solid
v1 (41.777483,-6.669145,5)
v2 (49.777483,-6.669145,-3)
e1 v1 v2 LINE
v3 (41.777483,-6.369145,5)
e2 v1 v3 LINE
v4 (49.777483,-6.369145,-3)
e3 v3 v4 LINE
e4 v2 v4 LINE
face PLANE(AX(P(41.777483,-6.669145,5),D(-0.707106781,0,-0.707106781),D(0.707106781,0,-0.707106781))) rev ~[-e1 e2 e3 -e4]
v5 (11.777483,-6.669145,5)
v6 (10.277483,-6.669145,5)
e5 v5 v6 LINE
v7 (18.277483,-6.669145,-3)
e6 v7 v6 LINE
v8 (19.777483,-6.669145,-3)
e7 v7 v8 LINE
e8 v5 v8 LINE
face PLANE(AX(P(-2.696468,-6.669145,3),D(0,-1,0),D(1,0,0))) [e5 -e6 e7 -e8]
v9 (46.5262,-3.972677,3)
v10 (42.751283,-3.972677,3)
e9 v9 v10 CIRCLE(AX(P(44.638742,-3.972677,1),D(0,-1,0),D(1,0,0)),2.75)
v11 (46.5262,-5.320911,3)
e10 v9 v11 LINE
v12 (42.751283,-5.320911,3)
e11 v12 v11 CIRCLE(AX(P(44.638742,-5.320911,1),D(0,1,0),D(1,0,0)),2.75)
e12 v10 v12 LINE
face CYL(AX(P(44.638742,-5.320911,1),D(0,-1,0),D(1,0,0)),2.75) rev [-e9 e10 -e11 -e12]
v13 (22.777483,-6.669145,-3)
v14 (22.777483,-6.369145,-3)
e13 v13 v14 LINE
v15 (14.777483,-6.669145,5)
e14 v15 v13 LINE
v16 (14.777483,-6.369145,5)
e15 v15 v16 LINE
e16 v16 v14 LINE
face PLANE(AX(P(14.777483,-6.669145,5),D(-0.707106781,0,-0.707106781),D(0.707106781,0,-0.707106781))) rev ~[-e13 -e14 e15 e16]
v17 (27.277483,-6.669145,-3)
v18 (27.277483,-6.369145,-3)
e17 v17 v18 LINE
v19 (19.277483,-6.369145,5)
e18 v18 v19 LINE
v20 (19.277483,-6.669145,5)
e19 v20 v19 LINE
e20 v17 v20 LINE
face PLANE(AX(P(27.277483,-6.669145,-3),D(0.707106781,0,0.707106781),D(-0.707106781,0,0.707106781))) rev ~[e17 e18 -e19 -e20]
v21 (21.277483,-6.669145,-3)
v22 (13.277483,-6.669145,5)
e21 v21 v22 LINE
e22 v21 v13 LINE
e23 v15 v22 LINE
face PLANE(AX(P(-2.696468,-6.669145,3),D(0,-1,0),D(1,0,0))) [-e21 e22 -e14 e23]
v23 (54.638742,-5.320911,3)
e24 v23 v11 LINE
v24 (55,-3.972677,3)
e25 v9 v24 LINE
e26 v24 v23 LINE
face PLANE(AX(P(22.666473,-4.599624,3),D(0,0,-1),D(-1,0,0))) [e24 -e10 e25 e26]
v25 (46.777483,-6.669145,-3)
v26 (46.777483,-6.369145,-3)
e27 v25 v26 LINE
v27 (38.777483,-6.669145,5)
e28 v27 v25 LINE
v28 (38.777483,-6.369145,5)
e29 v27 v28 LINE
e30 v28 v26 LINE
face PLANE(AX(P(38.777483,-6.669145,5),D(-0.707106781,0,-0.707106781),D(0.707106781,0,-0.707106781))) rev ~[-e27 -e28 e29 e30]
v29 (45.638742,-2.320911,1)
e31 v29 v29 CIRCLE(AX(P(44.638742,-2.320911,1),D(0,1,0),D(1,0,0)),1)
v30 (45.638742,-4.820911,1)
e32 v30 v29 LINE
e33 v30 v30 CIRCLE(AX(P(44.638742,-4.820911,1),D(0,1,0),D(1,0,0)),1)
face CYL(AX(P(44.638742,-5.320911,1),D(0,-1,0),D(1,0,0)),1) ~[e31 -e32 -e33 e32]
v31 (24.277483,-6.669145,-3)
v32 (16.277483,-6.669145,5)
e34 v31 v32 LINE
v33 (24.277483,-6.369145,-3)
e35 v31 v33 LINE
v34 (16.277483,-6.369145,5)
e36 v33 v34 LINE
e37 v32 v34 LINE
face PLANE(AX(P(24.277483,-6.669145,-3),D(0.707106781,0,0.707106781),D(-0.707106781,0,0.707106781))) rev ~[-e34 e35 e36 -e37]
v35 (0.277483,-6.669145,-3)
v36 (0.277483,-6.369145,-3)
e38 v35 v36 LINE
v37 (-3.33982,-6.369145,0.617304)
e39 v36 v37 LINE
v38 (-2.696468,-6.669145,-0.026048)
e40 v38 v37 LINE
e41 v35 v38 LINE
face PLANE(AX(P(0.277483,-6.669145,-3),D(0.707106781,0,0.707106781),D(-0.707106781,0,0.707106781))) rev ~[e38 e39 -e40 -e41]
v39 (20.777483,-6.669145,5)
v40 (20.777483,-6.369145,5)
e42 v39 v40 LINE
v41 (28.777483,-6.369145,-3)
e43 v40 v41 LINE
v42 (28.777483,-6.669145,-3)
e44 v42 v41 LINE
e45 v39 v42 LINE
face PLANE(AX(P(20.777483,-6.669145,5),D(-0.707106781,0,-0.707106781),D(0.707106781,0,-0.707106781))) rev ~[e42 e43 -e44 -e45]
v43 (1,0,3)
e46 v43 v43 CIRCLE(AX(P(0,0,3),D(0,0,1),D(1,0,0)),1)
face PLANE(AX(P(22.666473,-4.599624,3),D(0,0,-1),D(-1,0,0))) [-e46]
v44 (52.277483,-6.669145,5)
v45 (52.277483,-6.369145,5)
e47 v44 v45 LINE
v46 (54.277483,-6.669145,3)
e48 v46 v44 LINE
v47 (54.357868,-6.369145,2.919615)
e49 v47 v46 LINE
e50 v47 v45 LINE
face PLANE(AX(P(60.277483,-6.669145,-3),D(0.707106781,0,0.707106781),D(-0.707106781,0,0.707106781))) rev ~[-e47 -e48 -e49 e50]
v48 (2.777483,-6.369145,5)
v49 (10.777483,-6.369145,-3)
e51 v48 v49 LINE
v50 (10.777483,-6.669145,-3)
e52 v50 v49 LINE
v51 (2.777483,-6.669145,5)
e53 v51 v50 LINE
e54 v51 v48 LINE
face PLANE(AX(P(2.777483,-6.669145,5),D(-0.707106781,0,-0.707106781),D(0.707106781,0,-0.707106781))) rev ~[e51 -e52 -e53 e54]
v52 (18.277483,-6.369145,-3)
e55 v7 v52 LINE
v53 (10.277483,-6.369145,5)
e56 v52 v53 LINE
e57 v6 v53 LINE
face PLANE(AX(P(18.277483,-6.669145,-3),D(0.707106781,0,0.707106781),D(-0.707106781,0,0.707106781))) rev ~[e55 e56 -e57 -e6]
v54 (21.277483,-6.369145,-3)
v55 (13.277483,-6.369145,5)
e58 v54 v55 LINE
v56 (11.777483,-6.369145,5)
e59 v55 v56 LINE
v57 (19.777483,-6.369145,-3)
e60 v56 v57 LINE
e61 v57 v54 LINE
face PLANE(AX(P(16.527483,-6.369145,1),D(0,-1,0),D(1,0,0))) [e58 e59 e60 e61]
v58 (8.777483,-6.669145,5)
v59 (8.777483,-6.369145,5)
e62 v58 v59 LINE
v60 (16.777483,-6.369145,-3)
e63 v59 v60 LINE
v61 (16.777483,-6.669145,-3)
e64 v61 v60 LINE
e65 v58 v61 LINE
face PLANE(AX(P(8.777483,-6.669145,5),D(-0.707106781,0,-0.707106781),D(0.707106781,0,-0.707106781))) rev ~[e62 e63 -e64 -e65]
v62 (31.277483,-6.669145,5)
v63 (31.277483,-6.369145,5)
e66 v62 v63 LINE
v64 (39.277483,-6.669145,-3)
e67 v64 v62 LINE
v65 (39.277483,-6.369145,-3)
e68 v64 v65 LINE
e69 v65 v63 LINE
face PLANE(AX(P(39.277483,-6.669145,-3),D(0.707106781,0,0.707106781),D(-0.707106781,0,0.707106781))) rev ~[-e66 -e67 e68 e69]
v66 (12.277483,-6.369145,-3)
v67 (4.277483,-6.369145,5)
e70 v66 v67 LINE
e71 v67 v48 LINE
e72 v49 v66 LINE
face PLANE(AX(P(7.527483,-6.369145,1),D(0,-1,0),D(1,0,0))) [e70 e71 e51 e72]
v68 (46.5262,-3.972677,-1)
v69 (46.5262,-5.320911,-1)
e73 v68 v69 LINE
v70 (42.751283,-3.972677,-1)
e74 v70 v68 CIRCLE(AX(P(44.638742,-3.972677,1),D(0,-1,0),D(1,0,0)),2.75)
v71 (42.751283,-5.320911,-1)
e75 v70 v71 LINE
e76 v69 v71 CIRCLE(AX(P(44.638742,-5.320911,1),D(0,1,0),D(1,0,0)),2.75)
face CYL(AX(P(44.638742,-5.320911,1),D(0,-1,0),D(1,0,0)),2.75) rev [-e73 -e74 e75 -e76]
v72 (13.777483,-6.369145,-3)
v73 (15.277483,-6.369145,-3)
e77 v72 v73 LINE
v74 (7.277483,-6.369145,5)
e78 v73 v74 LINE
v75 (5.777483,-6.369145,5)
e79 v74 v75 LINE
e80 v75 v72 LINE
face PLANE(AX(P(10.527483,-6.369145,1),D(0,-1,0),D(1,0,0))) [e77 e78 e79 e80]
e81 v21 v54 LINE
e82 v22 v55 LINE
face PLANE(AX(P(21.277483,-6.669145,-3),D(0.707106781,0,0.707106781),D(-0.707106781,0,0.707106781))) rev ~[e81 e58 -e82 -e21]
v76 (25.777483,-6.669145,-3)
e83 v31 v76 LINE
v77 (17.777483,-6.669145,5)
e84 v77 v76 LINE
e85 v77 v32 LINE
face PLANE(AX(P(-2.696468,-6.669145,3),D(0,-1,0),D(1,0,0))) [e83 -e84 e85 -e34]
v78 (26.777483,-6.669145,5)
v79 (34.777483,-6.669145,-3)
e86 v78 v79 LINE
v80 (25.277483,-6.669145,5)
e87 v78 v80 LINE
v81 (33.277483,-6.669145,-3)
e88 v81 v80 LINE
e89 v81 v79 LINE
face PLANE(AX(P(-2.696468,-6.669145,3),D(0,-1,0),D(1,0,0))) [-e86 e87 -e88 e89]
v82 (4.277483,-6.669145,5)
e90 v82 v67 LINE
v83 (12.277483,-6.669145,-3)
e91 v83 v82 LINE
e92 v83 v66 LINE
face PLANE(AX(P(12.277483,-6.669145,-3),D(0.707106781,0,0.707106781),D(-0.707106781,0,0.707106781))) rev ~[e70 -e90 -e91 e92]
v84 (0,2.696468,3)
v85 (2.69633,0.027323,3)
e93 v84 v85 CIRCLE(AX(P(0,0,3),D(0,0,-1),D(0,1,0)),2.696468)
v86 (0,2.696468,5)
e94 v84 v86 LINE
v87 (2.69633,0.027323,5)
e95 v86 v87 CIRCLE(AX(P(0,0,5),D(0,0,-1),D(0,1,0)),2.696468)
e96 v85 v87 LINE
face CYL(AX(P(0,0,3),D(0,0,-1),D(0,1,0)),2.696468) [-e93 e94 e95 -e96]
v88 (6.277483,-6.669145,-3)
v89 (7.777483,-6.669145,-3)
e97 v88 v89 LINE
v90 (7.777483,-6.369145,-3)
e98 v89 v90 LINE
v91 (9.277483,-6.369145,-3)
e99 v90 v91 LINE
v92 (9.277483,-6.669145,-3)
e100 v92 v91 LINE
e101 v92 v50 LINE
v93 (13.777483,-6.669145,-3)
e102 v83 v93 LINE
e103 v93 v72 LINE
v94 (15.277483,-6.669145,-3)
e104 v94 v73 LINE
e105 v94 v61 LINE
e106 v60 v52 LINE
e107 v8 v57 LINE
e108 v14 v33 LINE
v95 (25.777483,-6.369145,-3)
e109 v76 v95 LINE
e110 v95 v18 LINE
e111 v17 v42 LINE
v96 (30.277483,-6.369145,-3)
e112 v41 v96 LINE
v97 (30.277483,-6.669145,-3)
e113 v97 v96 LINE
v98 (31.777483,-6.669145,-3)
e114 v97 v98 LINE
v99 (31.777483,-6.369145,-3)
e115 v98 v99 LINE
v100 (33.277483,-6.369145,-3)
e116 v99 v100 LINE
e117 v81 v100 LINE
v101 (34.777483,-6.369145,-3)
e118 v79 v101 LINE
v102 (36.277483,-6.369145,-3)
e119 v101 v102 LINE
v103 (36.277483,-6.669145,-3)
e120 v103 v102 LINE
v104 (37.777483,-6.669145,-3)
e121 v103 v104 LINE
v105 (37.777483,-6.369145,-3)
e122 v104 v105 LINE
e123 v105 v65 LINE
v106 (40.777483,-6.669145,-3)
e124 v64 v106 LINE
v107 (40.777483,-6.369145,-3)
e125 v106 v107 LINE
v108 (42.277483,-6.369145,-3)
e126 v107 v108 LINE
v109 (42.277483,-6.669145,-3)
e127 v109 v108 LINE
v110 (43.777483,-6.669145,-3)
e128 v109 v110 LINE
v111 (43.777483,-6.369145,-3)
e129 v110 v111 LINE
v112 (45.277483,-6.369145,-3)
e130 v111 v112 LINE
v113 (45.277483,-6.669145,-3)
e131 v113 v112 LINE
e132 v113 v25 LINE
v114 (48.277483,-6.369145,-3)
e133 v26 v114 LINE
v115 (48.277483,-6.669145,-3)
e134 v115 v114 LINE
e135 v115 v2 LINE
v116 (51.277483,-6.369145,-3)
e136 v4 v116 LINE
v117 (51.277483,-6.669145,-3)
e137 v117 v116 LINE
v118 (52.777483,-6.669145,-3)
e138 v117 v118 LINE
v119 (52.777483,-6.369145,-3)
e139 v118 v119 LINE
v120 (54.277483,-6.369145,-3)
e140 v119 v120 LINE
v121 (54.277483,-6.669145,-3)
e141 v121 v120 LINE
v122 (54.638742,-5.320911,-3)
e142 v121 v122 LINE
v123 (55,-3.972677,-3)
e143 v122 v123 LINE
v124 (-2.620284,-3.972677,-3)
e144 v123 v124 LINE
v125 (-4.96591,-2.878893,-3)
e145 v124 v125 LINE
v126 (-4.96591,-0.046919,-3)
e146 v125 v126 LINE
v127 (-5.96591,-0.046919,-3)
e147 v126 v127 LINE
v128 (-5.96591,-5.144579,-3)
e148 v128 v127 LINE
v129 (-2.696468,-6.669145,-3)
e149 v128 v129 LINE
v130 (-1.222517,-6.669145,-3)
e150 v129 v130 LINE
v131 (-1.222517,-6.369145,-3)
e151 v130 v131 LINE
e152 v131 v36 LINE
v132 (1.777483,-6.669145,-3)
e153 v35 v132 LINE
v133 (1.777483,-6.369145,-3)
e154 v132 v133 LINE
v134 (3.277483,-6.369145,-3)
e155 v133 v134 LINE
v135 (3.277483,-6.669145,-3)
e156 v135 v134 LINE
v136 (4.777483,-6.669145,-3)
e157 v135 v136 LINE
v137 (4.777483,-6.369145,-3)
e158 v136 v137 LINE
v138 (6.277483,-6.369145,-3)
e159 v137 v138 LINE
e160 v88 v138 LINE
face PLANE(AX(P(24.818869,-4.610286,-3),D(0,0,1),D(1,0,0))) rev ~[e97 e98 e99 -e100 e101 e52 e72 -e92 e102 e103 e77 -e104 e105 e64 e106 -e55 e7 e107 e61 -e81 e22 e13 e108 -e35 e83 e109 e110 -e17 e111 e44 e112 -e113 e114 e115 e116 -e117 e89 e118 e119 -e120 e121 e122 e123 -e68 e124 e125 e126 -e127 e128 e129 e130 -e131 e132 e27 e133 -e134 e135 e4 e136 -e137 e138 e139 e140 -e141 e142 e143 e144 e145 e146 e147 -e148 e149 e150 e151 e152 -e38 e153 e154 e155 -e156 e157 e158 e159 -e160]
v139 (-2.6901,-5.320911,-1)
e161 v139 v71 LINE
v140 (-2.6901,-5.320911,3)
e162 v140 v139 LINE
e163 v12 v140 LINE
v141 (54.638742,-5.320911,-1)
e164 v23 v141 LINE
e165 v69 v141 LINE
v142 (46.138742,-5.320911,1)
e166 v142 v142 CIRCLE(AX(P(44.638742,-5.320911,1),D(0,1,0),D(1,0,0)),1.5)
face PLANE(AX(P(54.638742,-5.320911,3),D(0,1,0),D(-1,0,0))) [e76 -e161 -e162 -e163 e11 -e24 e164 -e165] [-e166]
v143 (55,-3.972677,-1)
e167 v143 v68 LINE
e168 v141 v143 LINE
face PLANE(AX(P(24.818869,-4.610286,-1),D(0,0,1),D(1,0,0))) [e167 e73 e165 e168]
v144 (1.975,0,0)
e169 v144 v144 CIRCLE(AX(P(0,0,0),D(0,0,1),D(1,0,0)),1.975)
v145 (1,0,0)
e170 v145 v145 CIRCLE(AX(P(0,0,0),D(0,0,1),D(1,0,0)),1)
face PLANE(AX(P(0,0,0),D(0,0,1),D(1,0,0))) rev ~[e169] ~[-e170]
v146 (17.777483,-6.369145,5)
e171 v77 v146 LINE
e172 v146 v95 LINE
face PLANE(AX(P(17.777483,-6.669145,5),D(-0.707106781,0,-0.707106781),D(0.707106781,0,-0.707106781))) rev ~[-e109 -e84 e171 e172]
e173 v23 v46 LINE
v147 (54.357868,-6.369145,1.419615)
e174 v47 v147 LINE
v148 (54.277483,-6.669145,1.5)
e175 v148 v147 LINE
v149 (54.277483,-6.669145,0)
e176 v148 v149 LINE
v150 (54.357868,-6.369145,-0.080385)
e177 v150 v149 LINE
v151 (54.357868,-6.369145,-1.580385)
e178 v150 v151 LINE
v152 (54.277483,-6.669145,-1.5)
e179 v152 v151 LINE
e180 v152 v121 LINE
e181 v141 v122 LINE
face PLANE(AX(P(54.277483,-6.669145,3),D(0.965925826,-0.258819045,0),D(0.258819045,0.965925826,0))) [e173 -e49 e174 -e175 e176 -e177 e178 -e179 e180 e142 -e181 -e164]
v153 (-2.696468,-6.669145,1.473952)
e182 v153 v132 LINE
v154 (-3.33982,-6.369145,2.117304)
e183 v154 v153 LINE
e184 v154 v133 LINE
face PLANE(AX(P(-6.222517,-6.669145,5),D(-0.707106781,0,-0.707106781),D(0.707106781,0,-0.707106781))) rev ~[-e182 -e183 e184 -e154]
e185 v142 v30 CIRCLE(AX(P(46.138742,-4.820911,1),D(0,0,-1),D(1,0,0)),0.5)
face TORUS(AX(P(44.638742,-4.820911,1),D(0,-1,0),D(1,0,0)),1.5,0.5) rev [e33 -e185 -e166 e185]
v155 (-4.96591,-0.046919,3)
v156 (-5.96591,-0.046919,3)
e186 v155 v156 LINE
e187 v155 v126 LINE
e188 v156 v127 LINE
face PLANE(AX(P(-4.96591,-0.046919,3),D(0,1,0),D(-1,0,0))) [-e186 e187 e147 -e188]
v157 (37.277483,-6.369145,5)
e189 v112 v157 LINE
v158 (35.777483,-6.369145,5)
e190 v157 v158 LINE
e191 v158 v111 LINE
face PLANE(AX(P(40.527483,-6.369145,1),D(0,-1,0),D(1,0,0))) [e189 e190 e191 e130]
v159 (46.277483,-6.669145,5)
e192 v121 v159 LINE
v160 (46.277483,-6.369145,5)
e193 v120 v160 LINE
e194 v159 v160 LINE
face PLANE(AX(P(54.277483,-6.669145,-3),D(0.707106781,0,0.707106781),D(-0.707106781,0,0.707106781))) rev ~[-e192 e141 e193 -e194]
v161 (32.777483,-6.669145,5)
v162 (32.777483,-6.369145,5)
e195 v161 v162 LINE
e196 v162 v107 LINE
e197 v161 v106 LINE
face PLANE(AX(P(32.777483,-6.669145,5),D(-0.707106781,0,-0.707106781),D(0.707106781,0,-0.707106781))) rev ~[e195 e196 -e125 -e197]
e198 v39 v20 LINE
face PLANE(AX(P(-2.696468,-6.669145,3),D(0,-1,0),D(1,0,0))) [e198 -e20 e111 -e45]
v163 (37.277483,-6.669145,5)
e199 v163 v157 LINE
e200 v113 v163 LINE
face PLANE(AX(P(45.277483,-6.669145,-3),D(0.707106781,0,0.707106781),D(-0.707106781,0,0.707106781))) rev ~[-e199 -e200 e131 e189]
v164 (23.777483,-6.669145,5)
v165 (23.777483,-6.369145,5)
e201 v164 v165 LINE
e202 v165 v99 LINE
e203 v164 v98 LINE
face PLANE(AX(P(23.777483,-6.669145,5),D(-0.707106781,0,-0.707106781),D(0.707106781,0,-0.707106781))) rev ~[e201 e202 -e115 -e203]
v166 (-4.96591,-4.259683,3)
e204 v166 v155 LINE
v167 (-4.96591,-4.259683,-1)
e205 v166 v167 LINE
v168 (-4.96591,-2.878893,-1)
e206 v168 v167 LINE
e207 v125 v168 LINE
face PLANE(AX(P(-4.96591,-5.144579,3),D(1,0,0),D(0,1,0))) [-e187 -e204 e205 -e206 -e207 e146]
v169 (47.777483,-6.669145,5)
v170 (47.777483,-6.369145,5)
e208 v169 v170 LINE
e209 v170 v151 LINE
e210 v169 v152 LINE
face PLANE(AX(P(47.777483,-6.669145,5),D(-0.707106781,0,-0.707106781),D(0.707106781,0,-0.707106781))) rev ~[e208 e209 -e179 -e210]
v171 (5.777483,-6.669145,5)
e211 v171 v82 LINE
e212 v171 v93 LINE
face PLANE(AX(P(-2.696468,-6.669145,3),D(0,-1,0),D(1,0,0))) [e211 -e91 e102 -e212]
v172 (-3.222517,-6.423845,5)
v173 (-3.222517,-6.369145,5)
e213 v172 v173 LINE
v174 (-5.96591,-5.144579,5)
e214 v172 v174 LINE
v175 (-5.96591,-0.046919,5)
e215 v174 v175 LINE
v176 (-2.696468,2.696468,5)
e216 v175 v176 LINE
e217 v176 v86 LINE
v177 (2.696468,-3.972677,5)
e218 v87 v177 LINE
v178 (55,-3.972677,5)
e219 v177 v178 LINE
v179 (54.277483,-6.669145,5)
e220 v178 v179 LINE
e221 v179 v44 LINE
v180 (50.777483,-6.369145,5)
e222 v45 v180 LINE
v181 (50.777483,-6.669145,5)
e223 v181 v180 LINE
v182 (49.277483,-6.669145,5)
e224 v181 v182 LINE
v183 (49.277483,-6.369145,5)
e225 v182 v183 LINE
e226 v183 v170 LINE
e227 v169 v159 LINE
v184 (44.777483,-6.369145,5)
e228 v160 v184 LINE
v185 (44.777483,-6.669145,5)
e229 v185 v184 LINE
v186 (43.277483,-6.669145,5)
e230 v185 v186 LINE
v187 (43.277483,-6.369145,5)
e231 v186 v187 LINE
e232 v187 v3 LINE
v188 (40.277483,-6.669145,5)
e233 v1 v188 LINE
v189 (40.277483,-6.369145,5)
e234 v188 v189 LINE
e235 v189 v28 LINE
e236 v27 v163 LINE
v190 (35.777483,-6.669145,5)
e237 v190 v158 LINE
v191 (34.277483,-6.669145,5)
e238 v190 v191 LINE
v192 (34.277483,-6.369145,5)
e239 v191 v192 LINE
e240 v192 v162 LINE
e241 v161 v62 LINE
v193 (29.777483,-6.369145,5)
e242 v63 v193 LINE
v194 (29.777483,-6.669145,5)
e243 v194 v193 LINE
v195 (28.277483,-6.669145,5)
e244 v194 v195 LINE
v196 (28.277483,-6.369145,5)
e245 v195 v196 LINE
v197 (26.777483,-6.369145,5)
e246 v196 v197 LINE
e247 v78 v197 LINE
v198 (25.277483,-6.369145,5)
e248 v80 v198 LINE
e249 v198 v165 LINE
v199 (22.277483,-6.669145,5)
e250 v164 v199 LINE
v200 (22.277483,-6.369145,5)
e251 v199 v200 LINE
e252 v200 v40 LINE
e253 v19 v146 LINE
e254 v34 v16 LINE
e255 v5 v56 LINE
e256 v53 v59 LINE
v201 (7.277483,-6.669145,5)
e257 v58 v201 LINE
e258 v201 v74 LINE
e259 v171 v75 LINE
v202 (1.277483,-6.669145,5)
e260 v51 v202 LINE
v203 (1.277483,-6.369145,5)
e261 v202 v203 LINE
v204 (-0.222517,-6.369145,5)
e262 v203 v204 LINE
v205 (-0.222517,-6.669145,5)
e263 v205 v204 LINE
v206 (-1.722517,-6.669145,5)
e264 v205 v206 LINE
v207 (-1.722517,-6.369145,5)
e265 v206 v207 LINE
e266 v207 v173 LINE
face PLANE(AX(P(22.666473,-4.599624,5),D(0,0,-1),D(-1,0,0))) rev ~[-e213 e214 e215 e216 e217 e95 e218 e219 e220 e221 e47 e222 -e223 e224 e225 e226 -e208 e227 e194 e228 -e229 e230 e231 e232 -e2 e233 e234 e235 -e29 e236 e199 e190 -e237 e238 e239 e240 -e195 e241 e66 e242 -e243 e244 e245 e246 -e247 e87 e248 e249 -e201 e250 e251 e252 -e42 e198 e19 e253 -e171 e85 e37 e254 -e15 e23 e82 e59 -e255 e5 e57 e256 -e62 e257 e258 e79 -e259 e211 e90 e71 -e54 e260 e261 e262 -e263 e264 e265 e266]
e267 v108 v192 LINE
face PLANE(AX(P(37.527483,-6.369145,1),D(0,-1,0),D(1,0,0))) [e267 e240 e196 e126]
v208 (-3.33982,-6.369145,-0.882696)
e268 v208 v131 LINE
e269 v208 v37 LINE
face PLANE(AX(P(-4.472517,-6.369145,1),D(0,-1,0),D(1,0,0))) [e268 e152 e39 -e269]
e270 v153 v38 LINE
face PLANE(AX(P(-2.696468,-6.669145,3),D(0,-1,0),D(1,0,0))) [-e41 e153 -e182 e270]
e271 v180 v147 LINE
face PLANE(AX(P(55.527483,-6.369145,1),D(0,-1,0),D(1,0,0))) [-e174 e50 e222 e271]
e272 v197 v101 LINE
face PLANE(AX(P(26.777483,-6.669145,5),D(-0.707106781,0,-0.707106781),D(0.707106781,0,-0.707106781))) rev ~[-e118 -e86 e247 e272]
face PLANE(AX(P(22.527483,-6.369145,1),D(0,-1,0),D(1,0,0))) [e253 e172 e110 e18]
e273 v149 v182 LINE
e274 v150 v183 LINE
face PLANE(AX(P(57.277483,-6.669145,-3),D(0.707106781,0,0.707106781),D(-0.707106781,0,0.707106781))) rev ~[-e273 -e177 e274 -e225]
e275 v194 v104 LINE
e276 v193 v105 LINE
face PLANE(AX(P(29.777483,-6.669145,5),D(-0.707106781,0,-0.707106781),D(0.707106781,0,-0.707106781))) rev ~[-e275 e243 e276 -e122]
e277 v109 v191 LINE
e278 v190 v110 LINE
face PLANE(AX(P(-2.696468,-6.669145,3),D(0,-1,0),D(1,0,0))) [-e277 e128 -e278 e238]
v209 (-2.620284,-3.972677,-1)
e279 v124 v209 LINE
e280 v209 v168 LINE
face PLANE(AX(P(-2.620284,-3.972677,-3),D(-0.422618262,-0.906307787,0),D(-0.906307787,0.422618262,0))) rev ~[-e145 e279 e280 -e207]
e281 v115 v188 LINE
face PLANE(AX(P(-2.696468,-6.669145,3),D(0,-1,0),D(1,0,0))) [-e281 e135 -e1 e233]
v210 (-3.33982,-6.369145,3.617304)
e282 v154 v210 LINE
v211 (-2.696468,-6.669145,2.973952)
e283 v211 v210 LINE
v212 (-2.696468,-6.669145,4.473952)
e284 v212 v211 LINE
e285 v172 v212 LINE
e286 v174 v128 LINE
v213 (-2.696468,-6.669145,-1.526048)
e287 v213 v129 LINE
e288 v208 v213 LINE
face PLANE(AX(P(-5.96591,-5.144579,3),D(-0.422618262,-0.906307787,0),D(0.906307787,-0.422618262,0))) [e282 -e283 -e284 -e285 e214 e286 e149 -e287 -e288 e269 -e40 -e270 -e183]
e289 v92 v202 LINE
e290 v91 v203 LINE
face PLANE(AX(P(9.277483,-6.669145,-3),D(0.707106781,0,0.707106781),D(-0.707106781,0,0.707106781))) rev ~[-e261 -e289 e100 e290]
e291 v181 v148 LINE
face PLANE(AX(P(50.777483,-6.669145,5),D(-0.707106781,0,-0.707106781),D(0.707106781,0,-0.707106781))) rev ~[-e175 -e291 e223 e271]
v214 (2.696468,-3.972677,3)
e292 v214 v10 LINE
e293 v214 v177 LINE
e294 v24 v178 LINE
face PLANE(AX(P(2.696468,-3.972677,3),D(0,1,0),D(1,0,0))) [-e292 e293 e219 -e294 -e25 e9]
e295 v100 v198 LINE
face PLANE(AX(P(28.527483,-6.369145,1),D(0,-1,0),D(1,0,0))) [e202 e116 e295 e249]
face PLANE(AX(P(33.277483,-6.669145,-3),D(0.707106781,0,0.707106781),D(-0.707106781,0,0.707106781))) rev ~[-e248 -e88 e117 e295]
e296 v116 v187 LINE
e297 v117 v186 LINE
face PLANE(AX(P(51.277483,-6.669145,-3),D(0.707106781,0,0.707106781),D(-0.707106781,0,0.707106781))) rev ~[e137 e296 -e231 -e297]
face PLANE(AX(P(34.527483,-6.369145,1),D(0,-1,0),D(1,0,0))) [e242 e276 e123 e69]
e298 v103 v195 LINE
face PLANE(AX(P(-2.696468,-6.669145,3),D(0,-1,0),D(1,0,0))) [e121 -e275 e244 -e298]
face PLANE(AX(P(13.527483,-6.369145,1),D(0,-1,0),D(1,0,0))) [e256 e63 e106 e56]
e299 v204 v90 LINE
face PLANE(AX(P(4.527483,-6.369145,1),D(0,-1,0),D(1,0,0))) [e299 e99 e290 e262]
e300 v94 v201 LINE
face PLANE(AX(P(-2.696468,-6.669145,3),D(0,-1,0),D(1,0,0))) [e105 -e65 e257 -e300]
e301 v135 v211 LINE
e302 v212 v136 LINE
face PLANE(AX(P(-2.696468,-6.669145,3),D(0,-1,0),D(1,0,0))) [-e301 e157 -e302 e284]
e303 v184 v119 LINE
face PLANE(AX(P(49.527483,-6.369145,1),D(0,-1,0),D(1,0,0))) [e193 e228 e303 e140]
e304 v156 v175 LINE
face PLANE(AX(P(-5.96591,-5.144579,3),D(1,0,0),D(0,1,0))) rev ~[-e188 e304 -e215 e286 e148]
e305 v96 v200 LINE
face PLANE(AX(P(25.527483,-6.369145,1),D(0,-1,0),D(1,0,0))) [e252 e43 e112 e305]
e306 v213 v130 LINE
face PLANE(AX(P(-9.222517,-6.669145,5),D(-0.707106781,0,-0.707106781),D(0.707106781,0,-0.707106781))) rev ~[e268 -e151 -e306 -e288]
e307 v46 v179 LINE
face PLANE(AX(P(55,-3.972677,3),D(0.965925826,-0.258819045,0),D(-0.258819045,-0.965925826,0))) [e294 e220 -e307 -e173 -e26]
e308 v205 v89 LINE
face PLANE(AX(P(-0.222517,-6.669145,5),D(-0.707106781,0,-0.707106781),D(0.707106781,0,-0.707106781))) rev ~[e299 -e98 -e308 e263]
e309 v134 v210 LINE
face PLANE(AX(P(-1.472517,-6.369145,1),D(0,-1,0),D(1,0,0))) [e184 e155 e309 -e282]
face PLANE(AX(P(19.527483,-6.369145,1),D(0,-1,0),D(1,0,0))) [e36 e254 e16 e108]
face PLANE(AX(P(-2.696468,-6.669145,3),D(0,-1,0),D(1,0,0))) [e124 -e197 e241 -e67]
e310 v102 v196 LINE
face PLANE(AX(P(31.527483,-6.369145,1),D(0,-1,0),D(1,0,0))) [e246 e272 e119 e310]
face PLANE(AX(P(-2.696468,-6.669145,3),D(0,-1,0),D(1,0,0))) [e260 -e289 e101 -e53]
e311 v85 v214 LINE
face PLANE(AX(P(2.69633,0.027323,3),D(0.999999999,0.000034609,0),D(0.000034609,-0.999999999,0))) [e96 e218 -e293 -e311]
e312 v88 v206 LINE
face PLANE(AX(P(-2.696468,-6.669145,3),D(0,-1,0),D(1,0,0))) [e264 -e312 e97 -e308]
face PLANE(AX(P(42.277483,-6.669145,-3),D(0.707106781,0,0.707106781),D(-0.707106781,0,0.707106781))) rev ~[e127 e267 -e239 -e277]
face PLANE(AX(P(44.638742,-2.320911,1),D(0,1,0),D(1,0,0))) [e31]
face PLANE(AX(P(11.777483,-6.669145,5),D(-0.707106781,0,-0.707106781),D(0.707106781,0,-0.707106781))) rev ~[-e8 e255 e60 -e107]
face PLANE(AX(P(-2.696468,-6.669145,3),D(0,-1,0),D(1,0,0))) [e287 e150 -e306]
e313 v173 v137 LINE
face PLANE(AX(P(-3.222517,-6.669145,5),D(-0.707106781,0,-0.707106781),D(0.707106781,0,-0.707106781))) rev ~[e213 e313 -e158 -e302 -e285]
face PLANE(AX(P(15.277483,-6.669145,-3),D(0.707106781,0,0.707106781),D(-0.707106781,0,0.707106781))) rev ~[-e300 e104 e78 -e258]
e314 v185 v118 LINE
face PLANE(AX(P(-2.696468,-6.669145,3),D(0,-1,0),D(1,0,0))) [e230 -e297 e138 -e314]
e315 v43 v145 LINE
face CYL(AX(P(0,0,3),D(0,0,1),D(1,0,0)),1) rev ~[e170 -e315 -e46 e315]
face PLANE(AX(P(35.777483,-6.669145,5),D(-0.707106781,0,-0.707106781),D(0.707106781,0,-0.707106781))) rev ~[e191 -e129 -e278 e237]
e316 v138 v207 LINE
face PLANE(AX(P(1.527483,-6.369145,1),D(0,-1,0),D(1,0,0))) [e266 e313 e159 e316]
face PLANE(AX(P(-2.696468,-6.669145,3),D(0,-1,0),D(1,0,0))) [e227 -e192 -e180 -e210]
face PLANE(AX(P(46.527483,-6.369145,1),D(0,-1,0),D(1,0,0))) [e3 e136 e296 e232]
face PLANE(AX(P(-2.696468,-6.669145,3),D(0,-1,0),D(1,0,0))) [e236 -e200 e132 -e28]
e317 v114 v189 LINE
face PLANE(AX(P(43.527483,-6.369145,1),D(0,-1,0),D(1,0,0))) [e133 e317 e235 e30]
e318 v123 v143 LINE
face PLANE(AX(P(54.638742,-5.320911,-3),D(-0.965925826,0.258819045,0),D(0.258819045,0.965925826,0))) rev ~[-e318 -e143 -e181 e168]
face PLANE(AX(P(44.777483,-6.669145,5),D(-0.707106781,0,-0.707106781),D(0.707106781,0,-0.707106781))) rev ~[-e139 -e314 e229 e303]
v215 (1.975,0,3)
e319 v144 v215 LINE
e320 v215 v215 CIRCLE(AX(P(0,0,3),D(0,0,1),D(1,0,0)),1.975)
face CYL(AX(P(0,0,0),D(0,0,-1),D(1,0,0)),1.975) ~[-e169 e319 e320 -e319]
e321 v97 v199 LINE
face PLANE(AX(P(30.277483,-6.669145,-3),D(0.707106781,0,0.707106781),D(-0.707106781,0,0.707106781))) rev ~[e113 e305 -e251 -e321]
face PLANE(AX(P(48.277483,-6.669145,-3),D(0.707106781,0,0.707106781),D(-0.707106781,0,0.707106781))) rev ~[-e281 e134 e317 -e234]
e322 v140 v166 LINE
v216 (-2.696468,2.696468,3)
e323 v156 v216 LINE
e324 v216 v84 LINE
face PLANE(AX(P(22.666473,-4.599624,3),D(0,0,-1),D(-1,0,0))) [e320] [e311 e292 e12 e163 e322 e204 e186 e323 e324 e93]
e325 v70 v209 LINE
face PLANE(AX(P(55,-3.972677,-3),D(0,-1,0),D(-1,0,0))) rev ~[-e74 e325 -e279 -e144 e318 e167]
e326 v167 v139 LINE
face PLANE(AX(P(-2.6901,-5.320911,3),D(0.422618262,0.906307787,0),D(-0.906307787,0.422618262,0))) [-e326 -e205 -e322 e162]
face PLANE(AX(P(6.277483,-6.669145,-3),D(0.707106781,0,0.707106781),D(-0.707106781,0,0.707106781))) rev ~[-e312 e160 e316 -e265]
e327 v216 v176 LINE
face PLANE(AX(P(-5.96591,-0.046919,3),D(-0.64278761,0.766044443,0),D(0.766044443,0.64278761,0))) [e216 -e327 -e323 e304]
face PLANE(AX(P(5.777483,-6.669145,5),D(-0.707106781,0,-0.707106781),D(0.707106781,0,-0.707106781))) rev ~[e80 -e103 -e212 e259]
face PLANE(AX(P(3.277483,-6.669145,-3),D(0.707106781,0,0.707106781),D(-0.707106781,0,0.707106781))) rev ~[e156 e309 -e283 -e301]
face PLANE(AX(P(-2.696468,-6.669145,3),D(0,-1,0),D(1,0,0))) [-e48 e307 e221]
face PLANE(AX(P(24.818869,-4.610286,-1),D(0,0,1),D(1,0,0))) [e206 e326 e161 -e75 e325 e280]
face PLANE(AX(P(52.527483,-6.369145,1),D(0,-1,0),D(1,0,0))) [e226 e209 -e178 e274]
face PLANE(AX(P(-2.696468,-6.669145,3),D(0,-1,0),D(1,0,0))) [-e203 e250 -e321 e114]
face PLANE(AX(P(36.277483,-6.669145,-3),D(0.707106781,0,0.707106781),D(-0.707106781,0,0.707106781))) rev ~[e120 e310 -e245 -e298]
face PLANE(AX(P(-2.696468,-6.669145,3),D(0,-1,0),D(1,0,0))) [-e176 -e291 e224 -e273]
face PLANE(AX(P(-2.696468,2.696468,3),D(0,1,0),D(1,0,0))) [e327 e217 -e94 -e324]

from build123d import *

# Parameters (mm, degrees)
SKETCH1_R           = 1.975
BOSS_EXTRUDE1_DEPTH = 3
SKETCH2_R           = 1
CUT_EXTRUDE1_DEPTH  = 4
BOSS_EXTRUDE3_DEPTH = 2
SKETCH4_W           = 1
SKETCH4_H           = 5.097660252
BOSS_EXTRUDE5_DEPTH = 6
BOSS_EXTRUDE6_DEPTH = 6
BOSS_EXTRUDE7_DEPTH = 2
SKETCH8_R           = 1
BOSS_EXTRUDE8_DEPTH = 3
SKETCH9_R           = 2.75
SKETCH9_R_2         = 1
CUT_EXTRUDE2_DEPTH  = 3
FILLET1_R           = 0.5
CUT_EXTRUDE5_DEPTH  = 0.3


with BuildPart() as part:
    # Sketch1 → Boss-Extrude1 (new body)
    with BuildSketch(Plane.XY):
        Circle(SKETCH1_R)
    extrude(amount=BOSS_EXTRUDE1_DEPTH)

    # Sketch2 → Cut-Extrude1 (cut, through all)
    with BuildSketch(Plane.XY.offset(3)):
        Circle(SKETCH2_R)
    extrude(amount=-CUT_EXTRUDE1_DEPTH, mode=Mode.SUBTRACT)

    # Sketch3 → Boss-Extrude3 (add)
    with BuildSketch(Plane.XY.offset(3)):
        with BuildLine():
            Line((2.696329955, 0.027323162), (2.69646839, -3.972676835))
            Line((2.69646839, -3.972676835), (55, -3.972676835))
            Line((55, -3.972676835), (54.277483472, -6.669145226))
            Line((54.277483472, -6.669145226), (0, -6.669145226))
            Line((0, -6.669145226), (-2.69646839, -6.669145226))
            Line((-2.69646839, -6.669145226), (-5.965910349, -5.144579403))
            Line((-5.965910349, -5.144579403), (-5.965910349, -0.046919151))
            Line((-5.965910349, -0.046919151), (-2.69646839, 2.69646839))
            Line((-2.69646839, 2.69646839), (0, 2.69646839))
            ThreePointArc((0, 2.69646839), (1.897006291, 1.916326932), (2.696329955, 0.027323162))
        make_face()
    extrude(amount=BOSS_EXTRUDE3_DEPTH)

    # Sketch4 → Boss-Extrude5 (add)
    with BuildSketch(Plane(origin=(0, 0, 3), x_dir=(-1, 0, 0), z_dir=(0, 0, -1))):
        with Locations((5.465910349, -2.595749277)):
            Rectangle(SKETCH4_W, SKETCH4_H)
    extrude(amount=BOSS_EXTRUDE5_DEPTH)

    # Sketch5 → Boss-Extrude6 (add)
    with BuildSketch(Plane(origin=(0, 0, 3), x_dir=(-1, 0, 0), z_dir=(0, 0, -1))):
        Polygon((-54.638741736, -5.320911031), (2.690099823, -5.320911031), (4.965910349, -4.259683154), (4.965910349, -5.144579403), (5.965910349, -5.144579403), (2.69646839, -6.669145226), (-54.277483472, -6.669145226), align=None)
    extrude(amount=BOSS_EXTRUDE6_DEPTH)

    # Sketch6 → Boss-Extrude7 (add)
    with BuildSketch(Plane(origin=(0, 0, -3), x_dir=(-1, 0, 0), z_dir=(0, 0, -1))):
        Polygon((-54.638741736, -5.320911031), (-55, -3.972676835), (2.620283863, -3.972676835), (4.965910349, -2.878893242), (4.965910349, -4.259683154), (2.690099823, -5.320911031), align=None)
    extrude(amount=-BOSS_EXTRUDE7_DEPTH)

    # Sketch8 → Boss-Extrude8 (add)
    with BuildSketch(Plane(origin=(0, -5.320911031, 0), x_dir=(1, 0, 0), z_dir=(0, 1, 0))):
        with Locations((44.638741736, -1)):
            Circle(SKETCH8_R)
    extrude(amount=BOSS_EXTRUDE8_DEPTH)

    # Sketch9 → Cut-Extrude2 (cut)
    with BuildSketch(Plane(origin=(0, -5.320911031, 0), x_dir=(1, 0, 0), z_dir=(0, 1, 0))):
        with Locations((44.638741736, -1)):
            Circle(SKETCH9_R)
        with Locations((44.638741736, -1)):
            Circle(SKETCH9_R_2, mode=Mode.SUBTRACT)
    extrude(amount=CUT_EXTRUDE2_DEPTH, mode=Mode.SUBTRACT)

    # Fillet1
    fillet1_edges = [part.edges().sort_by_distance(p)[0] for p in [
        (43.638741736, -5.320911031, 1),
    ]]
    fillet(fillet1_edges, radius=FILLET1_R)

    # Sketch10 → Cut-Extrude5 (cut)
    with BuildSketch(Plane.XZ.offset(6.669145226)):
        Polygon((54.277483472, -3), (46.277483472, 5), (44.777483472, 5), (52.777483472, -3), align=None)
        Polygon((49.777483472, -3), (51.277483472, -3), (43.277483472, 5), (41.777483472, 5), align=None)
        Polygon((46.777483472, -3), (48.277483472, -3), (40.277483472, 5), (38.777483472, 5), align=None)
        Polygon((43.777483472, -3), (45.277483472, -3), (37.277483472, 5), (35.777483472, 5), align=None)
        Polygon((40.777483472, -3), (42.277483472, -3), (34.277483472, 5), (32.777483472, 5), align=None)
        Polygon((37.777483472, -3), (39.277483472, -3), (31.277483472, 5), (29.777483472, 5), align=None)
        Polygon((34.777483472, -3), (36.277483472, -3), (28.277483472, 5), (26.777483472, 5), align=None)
        Polygon((31.777483472, -3), (33.277483472, -3), (25.277483472, 5), (23.777483472, 5), align=None)
        Polygon((28.777483472, -3), (30.277483472, -3), (22.277483472, 5), (20.777483472, 5), align=None)
        Polygon((25.777483472, -3), (27.277483472, -3), (19.277483472, 5), (17.777483472, 5), align=None)
        Polygon((22.777483472, -3), (24.277483472, -3), (16.277483472, 5), (14.777483472, 5), align=None)
        Polygon((19.777483472, -3), (21.277483472, -3), (13.277483472, 5), (11.777483472, 5), align=None)
        Polygon((16.777483472, -3), (18.277483472, -3), (10.277483472, 5), (8.777483472, 5), align=None)
        Polygon((13.777483472, -3), (15.277483472, -3), (7.277483472, 5), (5.777483472, 5), align=None)
        Polygon((10.777483472, -3), (12.277483472, -3), (4.277483472, 5), (2.777483472, 5), align=None)
        Polygon((7.777483472, -3), (9.277483472, -3), (1.277483472, 5), (-0.222516528, 5), align=None)
        Polygon((4.777483472, -3), (6.277483472, -3), (-1.722516528, 5), (-3.222516528, 5), align=None)
        Polygon((1.777483472, -3), (3.277483472, -3), (-4.722516528, 5), (-6.222516528, 5), align=None)
        Polygon((-1.222516528, -3), (0.277483472, -3), (-7.722516528, 5), (-9.222516528, 5), align=None)
        Polygon((55.777483472, -3), (57.277483472, -3), (49.277483472, 5), (47.777483472, 5), align=None)
        Polygon((58.777483472, -3), (60.277483472, -3), (52.277483472, 5), (50.777483472, 5), align=None)
    extrude(amount=-CUT_EXTRUDE5_DEPTH, mode=Mode.SUBTRACT)


solid = part.part
